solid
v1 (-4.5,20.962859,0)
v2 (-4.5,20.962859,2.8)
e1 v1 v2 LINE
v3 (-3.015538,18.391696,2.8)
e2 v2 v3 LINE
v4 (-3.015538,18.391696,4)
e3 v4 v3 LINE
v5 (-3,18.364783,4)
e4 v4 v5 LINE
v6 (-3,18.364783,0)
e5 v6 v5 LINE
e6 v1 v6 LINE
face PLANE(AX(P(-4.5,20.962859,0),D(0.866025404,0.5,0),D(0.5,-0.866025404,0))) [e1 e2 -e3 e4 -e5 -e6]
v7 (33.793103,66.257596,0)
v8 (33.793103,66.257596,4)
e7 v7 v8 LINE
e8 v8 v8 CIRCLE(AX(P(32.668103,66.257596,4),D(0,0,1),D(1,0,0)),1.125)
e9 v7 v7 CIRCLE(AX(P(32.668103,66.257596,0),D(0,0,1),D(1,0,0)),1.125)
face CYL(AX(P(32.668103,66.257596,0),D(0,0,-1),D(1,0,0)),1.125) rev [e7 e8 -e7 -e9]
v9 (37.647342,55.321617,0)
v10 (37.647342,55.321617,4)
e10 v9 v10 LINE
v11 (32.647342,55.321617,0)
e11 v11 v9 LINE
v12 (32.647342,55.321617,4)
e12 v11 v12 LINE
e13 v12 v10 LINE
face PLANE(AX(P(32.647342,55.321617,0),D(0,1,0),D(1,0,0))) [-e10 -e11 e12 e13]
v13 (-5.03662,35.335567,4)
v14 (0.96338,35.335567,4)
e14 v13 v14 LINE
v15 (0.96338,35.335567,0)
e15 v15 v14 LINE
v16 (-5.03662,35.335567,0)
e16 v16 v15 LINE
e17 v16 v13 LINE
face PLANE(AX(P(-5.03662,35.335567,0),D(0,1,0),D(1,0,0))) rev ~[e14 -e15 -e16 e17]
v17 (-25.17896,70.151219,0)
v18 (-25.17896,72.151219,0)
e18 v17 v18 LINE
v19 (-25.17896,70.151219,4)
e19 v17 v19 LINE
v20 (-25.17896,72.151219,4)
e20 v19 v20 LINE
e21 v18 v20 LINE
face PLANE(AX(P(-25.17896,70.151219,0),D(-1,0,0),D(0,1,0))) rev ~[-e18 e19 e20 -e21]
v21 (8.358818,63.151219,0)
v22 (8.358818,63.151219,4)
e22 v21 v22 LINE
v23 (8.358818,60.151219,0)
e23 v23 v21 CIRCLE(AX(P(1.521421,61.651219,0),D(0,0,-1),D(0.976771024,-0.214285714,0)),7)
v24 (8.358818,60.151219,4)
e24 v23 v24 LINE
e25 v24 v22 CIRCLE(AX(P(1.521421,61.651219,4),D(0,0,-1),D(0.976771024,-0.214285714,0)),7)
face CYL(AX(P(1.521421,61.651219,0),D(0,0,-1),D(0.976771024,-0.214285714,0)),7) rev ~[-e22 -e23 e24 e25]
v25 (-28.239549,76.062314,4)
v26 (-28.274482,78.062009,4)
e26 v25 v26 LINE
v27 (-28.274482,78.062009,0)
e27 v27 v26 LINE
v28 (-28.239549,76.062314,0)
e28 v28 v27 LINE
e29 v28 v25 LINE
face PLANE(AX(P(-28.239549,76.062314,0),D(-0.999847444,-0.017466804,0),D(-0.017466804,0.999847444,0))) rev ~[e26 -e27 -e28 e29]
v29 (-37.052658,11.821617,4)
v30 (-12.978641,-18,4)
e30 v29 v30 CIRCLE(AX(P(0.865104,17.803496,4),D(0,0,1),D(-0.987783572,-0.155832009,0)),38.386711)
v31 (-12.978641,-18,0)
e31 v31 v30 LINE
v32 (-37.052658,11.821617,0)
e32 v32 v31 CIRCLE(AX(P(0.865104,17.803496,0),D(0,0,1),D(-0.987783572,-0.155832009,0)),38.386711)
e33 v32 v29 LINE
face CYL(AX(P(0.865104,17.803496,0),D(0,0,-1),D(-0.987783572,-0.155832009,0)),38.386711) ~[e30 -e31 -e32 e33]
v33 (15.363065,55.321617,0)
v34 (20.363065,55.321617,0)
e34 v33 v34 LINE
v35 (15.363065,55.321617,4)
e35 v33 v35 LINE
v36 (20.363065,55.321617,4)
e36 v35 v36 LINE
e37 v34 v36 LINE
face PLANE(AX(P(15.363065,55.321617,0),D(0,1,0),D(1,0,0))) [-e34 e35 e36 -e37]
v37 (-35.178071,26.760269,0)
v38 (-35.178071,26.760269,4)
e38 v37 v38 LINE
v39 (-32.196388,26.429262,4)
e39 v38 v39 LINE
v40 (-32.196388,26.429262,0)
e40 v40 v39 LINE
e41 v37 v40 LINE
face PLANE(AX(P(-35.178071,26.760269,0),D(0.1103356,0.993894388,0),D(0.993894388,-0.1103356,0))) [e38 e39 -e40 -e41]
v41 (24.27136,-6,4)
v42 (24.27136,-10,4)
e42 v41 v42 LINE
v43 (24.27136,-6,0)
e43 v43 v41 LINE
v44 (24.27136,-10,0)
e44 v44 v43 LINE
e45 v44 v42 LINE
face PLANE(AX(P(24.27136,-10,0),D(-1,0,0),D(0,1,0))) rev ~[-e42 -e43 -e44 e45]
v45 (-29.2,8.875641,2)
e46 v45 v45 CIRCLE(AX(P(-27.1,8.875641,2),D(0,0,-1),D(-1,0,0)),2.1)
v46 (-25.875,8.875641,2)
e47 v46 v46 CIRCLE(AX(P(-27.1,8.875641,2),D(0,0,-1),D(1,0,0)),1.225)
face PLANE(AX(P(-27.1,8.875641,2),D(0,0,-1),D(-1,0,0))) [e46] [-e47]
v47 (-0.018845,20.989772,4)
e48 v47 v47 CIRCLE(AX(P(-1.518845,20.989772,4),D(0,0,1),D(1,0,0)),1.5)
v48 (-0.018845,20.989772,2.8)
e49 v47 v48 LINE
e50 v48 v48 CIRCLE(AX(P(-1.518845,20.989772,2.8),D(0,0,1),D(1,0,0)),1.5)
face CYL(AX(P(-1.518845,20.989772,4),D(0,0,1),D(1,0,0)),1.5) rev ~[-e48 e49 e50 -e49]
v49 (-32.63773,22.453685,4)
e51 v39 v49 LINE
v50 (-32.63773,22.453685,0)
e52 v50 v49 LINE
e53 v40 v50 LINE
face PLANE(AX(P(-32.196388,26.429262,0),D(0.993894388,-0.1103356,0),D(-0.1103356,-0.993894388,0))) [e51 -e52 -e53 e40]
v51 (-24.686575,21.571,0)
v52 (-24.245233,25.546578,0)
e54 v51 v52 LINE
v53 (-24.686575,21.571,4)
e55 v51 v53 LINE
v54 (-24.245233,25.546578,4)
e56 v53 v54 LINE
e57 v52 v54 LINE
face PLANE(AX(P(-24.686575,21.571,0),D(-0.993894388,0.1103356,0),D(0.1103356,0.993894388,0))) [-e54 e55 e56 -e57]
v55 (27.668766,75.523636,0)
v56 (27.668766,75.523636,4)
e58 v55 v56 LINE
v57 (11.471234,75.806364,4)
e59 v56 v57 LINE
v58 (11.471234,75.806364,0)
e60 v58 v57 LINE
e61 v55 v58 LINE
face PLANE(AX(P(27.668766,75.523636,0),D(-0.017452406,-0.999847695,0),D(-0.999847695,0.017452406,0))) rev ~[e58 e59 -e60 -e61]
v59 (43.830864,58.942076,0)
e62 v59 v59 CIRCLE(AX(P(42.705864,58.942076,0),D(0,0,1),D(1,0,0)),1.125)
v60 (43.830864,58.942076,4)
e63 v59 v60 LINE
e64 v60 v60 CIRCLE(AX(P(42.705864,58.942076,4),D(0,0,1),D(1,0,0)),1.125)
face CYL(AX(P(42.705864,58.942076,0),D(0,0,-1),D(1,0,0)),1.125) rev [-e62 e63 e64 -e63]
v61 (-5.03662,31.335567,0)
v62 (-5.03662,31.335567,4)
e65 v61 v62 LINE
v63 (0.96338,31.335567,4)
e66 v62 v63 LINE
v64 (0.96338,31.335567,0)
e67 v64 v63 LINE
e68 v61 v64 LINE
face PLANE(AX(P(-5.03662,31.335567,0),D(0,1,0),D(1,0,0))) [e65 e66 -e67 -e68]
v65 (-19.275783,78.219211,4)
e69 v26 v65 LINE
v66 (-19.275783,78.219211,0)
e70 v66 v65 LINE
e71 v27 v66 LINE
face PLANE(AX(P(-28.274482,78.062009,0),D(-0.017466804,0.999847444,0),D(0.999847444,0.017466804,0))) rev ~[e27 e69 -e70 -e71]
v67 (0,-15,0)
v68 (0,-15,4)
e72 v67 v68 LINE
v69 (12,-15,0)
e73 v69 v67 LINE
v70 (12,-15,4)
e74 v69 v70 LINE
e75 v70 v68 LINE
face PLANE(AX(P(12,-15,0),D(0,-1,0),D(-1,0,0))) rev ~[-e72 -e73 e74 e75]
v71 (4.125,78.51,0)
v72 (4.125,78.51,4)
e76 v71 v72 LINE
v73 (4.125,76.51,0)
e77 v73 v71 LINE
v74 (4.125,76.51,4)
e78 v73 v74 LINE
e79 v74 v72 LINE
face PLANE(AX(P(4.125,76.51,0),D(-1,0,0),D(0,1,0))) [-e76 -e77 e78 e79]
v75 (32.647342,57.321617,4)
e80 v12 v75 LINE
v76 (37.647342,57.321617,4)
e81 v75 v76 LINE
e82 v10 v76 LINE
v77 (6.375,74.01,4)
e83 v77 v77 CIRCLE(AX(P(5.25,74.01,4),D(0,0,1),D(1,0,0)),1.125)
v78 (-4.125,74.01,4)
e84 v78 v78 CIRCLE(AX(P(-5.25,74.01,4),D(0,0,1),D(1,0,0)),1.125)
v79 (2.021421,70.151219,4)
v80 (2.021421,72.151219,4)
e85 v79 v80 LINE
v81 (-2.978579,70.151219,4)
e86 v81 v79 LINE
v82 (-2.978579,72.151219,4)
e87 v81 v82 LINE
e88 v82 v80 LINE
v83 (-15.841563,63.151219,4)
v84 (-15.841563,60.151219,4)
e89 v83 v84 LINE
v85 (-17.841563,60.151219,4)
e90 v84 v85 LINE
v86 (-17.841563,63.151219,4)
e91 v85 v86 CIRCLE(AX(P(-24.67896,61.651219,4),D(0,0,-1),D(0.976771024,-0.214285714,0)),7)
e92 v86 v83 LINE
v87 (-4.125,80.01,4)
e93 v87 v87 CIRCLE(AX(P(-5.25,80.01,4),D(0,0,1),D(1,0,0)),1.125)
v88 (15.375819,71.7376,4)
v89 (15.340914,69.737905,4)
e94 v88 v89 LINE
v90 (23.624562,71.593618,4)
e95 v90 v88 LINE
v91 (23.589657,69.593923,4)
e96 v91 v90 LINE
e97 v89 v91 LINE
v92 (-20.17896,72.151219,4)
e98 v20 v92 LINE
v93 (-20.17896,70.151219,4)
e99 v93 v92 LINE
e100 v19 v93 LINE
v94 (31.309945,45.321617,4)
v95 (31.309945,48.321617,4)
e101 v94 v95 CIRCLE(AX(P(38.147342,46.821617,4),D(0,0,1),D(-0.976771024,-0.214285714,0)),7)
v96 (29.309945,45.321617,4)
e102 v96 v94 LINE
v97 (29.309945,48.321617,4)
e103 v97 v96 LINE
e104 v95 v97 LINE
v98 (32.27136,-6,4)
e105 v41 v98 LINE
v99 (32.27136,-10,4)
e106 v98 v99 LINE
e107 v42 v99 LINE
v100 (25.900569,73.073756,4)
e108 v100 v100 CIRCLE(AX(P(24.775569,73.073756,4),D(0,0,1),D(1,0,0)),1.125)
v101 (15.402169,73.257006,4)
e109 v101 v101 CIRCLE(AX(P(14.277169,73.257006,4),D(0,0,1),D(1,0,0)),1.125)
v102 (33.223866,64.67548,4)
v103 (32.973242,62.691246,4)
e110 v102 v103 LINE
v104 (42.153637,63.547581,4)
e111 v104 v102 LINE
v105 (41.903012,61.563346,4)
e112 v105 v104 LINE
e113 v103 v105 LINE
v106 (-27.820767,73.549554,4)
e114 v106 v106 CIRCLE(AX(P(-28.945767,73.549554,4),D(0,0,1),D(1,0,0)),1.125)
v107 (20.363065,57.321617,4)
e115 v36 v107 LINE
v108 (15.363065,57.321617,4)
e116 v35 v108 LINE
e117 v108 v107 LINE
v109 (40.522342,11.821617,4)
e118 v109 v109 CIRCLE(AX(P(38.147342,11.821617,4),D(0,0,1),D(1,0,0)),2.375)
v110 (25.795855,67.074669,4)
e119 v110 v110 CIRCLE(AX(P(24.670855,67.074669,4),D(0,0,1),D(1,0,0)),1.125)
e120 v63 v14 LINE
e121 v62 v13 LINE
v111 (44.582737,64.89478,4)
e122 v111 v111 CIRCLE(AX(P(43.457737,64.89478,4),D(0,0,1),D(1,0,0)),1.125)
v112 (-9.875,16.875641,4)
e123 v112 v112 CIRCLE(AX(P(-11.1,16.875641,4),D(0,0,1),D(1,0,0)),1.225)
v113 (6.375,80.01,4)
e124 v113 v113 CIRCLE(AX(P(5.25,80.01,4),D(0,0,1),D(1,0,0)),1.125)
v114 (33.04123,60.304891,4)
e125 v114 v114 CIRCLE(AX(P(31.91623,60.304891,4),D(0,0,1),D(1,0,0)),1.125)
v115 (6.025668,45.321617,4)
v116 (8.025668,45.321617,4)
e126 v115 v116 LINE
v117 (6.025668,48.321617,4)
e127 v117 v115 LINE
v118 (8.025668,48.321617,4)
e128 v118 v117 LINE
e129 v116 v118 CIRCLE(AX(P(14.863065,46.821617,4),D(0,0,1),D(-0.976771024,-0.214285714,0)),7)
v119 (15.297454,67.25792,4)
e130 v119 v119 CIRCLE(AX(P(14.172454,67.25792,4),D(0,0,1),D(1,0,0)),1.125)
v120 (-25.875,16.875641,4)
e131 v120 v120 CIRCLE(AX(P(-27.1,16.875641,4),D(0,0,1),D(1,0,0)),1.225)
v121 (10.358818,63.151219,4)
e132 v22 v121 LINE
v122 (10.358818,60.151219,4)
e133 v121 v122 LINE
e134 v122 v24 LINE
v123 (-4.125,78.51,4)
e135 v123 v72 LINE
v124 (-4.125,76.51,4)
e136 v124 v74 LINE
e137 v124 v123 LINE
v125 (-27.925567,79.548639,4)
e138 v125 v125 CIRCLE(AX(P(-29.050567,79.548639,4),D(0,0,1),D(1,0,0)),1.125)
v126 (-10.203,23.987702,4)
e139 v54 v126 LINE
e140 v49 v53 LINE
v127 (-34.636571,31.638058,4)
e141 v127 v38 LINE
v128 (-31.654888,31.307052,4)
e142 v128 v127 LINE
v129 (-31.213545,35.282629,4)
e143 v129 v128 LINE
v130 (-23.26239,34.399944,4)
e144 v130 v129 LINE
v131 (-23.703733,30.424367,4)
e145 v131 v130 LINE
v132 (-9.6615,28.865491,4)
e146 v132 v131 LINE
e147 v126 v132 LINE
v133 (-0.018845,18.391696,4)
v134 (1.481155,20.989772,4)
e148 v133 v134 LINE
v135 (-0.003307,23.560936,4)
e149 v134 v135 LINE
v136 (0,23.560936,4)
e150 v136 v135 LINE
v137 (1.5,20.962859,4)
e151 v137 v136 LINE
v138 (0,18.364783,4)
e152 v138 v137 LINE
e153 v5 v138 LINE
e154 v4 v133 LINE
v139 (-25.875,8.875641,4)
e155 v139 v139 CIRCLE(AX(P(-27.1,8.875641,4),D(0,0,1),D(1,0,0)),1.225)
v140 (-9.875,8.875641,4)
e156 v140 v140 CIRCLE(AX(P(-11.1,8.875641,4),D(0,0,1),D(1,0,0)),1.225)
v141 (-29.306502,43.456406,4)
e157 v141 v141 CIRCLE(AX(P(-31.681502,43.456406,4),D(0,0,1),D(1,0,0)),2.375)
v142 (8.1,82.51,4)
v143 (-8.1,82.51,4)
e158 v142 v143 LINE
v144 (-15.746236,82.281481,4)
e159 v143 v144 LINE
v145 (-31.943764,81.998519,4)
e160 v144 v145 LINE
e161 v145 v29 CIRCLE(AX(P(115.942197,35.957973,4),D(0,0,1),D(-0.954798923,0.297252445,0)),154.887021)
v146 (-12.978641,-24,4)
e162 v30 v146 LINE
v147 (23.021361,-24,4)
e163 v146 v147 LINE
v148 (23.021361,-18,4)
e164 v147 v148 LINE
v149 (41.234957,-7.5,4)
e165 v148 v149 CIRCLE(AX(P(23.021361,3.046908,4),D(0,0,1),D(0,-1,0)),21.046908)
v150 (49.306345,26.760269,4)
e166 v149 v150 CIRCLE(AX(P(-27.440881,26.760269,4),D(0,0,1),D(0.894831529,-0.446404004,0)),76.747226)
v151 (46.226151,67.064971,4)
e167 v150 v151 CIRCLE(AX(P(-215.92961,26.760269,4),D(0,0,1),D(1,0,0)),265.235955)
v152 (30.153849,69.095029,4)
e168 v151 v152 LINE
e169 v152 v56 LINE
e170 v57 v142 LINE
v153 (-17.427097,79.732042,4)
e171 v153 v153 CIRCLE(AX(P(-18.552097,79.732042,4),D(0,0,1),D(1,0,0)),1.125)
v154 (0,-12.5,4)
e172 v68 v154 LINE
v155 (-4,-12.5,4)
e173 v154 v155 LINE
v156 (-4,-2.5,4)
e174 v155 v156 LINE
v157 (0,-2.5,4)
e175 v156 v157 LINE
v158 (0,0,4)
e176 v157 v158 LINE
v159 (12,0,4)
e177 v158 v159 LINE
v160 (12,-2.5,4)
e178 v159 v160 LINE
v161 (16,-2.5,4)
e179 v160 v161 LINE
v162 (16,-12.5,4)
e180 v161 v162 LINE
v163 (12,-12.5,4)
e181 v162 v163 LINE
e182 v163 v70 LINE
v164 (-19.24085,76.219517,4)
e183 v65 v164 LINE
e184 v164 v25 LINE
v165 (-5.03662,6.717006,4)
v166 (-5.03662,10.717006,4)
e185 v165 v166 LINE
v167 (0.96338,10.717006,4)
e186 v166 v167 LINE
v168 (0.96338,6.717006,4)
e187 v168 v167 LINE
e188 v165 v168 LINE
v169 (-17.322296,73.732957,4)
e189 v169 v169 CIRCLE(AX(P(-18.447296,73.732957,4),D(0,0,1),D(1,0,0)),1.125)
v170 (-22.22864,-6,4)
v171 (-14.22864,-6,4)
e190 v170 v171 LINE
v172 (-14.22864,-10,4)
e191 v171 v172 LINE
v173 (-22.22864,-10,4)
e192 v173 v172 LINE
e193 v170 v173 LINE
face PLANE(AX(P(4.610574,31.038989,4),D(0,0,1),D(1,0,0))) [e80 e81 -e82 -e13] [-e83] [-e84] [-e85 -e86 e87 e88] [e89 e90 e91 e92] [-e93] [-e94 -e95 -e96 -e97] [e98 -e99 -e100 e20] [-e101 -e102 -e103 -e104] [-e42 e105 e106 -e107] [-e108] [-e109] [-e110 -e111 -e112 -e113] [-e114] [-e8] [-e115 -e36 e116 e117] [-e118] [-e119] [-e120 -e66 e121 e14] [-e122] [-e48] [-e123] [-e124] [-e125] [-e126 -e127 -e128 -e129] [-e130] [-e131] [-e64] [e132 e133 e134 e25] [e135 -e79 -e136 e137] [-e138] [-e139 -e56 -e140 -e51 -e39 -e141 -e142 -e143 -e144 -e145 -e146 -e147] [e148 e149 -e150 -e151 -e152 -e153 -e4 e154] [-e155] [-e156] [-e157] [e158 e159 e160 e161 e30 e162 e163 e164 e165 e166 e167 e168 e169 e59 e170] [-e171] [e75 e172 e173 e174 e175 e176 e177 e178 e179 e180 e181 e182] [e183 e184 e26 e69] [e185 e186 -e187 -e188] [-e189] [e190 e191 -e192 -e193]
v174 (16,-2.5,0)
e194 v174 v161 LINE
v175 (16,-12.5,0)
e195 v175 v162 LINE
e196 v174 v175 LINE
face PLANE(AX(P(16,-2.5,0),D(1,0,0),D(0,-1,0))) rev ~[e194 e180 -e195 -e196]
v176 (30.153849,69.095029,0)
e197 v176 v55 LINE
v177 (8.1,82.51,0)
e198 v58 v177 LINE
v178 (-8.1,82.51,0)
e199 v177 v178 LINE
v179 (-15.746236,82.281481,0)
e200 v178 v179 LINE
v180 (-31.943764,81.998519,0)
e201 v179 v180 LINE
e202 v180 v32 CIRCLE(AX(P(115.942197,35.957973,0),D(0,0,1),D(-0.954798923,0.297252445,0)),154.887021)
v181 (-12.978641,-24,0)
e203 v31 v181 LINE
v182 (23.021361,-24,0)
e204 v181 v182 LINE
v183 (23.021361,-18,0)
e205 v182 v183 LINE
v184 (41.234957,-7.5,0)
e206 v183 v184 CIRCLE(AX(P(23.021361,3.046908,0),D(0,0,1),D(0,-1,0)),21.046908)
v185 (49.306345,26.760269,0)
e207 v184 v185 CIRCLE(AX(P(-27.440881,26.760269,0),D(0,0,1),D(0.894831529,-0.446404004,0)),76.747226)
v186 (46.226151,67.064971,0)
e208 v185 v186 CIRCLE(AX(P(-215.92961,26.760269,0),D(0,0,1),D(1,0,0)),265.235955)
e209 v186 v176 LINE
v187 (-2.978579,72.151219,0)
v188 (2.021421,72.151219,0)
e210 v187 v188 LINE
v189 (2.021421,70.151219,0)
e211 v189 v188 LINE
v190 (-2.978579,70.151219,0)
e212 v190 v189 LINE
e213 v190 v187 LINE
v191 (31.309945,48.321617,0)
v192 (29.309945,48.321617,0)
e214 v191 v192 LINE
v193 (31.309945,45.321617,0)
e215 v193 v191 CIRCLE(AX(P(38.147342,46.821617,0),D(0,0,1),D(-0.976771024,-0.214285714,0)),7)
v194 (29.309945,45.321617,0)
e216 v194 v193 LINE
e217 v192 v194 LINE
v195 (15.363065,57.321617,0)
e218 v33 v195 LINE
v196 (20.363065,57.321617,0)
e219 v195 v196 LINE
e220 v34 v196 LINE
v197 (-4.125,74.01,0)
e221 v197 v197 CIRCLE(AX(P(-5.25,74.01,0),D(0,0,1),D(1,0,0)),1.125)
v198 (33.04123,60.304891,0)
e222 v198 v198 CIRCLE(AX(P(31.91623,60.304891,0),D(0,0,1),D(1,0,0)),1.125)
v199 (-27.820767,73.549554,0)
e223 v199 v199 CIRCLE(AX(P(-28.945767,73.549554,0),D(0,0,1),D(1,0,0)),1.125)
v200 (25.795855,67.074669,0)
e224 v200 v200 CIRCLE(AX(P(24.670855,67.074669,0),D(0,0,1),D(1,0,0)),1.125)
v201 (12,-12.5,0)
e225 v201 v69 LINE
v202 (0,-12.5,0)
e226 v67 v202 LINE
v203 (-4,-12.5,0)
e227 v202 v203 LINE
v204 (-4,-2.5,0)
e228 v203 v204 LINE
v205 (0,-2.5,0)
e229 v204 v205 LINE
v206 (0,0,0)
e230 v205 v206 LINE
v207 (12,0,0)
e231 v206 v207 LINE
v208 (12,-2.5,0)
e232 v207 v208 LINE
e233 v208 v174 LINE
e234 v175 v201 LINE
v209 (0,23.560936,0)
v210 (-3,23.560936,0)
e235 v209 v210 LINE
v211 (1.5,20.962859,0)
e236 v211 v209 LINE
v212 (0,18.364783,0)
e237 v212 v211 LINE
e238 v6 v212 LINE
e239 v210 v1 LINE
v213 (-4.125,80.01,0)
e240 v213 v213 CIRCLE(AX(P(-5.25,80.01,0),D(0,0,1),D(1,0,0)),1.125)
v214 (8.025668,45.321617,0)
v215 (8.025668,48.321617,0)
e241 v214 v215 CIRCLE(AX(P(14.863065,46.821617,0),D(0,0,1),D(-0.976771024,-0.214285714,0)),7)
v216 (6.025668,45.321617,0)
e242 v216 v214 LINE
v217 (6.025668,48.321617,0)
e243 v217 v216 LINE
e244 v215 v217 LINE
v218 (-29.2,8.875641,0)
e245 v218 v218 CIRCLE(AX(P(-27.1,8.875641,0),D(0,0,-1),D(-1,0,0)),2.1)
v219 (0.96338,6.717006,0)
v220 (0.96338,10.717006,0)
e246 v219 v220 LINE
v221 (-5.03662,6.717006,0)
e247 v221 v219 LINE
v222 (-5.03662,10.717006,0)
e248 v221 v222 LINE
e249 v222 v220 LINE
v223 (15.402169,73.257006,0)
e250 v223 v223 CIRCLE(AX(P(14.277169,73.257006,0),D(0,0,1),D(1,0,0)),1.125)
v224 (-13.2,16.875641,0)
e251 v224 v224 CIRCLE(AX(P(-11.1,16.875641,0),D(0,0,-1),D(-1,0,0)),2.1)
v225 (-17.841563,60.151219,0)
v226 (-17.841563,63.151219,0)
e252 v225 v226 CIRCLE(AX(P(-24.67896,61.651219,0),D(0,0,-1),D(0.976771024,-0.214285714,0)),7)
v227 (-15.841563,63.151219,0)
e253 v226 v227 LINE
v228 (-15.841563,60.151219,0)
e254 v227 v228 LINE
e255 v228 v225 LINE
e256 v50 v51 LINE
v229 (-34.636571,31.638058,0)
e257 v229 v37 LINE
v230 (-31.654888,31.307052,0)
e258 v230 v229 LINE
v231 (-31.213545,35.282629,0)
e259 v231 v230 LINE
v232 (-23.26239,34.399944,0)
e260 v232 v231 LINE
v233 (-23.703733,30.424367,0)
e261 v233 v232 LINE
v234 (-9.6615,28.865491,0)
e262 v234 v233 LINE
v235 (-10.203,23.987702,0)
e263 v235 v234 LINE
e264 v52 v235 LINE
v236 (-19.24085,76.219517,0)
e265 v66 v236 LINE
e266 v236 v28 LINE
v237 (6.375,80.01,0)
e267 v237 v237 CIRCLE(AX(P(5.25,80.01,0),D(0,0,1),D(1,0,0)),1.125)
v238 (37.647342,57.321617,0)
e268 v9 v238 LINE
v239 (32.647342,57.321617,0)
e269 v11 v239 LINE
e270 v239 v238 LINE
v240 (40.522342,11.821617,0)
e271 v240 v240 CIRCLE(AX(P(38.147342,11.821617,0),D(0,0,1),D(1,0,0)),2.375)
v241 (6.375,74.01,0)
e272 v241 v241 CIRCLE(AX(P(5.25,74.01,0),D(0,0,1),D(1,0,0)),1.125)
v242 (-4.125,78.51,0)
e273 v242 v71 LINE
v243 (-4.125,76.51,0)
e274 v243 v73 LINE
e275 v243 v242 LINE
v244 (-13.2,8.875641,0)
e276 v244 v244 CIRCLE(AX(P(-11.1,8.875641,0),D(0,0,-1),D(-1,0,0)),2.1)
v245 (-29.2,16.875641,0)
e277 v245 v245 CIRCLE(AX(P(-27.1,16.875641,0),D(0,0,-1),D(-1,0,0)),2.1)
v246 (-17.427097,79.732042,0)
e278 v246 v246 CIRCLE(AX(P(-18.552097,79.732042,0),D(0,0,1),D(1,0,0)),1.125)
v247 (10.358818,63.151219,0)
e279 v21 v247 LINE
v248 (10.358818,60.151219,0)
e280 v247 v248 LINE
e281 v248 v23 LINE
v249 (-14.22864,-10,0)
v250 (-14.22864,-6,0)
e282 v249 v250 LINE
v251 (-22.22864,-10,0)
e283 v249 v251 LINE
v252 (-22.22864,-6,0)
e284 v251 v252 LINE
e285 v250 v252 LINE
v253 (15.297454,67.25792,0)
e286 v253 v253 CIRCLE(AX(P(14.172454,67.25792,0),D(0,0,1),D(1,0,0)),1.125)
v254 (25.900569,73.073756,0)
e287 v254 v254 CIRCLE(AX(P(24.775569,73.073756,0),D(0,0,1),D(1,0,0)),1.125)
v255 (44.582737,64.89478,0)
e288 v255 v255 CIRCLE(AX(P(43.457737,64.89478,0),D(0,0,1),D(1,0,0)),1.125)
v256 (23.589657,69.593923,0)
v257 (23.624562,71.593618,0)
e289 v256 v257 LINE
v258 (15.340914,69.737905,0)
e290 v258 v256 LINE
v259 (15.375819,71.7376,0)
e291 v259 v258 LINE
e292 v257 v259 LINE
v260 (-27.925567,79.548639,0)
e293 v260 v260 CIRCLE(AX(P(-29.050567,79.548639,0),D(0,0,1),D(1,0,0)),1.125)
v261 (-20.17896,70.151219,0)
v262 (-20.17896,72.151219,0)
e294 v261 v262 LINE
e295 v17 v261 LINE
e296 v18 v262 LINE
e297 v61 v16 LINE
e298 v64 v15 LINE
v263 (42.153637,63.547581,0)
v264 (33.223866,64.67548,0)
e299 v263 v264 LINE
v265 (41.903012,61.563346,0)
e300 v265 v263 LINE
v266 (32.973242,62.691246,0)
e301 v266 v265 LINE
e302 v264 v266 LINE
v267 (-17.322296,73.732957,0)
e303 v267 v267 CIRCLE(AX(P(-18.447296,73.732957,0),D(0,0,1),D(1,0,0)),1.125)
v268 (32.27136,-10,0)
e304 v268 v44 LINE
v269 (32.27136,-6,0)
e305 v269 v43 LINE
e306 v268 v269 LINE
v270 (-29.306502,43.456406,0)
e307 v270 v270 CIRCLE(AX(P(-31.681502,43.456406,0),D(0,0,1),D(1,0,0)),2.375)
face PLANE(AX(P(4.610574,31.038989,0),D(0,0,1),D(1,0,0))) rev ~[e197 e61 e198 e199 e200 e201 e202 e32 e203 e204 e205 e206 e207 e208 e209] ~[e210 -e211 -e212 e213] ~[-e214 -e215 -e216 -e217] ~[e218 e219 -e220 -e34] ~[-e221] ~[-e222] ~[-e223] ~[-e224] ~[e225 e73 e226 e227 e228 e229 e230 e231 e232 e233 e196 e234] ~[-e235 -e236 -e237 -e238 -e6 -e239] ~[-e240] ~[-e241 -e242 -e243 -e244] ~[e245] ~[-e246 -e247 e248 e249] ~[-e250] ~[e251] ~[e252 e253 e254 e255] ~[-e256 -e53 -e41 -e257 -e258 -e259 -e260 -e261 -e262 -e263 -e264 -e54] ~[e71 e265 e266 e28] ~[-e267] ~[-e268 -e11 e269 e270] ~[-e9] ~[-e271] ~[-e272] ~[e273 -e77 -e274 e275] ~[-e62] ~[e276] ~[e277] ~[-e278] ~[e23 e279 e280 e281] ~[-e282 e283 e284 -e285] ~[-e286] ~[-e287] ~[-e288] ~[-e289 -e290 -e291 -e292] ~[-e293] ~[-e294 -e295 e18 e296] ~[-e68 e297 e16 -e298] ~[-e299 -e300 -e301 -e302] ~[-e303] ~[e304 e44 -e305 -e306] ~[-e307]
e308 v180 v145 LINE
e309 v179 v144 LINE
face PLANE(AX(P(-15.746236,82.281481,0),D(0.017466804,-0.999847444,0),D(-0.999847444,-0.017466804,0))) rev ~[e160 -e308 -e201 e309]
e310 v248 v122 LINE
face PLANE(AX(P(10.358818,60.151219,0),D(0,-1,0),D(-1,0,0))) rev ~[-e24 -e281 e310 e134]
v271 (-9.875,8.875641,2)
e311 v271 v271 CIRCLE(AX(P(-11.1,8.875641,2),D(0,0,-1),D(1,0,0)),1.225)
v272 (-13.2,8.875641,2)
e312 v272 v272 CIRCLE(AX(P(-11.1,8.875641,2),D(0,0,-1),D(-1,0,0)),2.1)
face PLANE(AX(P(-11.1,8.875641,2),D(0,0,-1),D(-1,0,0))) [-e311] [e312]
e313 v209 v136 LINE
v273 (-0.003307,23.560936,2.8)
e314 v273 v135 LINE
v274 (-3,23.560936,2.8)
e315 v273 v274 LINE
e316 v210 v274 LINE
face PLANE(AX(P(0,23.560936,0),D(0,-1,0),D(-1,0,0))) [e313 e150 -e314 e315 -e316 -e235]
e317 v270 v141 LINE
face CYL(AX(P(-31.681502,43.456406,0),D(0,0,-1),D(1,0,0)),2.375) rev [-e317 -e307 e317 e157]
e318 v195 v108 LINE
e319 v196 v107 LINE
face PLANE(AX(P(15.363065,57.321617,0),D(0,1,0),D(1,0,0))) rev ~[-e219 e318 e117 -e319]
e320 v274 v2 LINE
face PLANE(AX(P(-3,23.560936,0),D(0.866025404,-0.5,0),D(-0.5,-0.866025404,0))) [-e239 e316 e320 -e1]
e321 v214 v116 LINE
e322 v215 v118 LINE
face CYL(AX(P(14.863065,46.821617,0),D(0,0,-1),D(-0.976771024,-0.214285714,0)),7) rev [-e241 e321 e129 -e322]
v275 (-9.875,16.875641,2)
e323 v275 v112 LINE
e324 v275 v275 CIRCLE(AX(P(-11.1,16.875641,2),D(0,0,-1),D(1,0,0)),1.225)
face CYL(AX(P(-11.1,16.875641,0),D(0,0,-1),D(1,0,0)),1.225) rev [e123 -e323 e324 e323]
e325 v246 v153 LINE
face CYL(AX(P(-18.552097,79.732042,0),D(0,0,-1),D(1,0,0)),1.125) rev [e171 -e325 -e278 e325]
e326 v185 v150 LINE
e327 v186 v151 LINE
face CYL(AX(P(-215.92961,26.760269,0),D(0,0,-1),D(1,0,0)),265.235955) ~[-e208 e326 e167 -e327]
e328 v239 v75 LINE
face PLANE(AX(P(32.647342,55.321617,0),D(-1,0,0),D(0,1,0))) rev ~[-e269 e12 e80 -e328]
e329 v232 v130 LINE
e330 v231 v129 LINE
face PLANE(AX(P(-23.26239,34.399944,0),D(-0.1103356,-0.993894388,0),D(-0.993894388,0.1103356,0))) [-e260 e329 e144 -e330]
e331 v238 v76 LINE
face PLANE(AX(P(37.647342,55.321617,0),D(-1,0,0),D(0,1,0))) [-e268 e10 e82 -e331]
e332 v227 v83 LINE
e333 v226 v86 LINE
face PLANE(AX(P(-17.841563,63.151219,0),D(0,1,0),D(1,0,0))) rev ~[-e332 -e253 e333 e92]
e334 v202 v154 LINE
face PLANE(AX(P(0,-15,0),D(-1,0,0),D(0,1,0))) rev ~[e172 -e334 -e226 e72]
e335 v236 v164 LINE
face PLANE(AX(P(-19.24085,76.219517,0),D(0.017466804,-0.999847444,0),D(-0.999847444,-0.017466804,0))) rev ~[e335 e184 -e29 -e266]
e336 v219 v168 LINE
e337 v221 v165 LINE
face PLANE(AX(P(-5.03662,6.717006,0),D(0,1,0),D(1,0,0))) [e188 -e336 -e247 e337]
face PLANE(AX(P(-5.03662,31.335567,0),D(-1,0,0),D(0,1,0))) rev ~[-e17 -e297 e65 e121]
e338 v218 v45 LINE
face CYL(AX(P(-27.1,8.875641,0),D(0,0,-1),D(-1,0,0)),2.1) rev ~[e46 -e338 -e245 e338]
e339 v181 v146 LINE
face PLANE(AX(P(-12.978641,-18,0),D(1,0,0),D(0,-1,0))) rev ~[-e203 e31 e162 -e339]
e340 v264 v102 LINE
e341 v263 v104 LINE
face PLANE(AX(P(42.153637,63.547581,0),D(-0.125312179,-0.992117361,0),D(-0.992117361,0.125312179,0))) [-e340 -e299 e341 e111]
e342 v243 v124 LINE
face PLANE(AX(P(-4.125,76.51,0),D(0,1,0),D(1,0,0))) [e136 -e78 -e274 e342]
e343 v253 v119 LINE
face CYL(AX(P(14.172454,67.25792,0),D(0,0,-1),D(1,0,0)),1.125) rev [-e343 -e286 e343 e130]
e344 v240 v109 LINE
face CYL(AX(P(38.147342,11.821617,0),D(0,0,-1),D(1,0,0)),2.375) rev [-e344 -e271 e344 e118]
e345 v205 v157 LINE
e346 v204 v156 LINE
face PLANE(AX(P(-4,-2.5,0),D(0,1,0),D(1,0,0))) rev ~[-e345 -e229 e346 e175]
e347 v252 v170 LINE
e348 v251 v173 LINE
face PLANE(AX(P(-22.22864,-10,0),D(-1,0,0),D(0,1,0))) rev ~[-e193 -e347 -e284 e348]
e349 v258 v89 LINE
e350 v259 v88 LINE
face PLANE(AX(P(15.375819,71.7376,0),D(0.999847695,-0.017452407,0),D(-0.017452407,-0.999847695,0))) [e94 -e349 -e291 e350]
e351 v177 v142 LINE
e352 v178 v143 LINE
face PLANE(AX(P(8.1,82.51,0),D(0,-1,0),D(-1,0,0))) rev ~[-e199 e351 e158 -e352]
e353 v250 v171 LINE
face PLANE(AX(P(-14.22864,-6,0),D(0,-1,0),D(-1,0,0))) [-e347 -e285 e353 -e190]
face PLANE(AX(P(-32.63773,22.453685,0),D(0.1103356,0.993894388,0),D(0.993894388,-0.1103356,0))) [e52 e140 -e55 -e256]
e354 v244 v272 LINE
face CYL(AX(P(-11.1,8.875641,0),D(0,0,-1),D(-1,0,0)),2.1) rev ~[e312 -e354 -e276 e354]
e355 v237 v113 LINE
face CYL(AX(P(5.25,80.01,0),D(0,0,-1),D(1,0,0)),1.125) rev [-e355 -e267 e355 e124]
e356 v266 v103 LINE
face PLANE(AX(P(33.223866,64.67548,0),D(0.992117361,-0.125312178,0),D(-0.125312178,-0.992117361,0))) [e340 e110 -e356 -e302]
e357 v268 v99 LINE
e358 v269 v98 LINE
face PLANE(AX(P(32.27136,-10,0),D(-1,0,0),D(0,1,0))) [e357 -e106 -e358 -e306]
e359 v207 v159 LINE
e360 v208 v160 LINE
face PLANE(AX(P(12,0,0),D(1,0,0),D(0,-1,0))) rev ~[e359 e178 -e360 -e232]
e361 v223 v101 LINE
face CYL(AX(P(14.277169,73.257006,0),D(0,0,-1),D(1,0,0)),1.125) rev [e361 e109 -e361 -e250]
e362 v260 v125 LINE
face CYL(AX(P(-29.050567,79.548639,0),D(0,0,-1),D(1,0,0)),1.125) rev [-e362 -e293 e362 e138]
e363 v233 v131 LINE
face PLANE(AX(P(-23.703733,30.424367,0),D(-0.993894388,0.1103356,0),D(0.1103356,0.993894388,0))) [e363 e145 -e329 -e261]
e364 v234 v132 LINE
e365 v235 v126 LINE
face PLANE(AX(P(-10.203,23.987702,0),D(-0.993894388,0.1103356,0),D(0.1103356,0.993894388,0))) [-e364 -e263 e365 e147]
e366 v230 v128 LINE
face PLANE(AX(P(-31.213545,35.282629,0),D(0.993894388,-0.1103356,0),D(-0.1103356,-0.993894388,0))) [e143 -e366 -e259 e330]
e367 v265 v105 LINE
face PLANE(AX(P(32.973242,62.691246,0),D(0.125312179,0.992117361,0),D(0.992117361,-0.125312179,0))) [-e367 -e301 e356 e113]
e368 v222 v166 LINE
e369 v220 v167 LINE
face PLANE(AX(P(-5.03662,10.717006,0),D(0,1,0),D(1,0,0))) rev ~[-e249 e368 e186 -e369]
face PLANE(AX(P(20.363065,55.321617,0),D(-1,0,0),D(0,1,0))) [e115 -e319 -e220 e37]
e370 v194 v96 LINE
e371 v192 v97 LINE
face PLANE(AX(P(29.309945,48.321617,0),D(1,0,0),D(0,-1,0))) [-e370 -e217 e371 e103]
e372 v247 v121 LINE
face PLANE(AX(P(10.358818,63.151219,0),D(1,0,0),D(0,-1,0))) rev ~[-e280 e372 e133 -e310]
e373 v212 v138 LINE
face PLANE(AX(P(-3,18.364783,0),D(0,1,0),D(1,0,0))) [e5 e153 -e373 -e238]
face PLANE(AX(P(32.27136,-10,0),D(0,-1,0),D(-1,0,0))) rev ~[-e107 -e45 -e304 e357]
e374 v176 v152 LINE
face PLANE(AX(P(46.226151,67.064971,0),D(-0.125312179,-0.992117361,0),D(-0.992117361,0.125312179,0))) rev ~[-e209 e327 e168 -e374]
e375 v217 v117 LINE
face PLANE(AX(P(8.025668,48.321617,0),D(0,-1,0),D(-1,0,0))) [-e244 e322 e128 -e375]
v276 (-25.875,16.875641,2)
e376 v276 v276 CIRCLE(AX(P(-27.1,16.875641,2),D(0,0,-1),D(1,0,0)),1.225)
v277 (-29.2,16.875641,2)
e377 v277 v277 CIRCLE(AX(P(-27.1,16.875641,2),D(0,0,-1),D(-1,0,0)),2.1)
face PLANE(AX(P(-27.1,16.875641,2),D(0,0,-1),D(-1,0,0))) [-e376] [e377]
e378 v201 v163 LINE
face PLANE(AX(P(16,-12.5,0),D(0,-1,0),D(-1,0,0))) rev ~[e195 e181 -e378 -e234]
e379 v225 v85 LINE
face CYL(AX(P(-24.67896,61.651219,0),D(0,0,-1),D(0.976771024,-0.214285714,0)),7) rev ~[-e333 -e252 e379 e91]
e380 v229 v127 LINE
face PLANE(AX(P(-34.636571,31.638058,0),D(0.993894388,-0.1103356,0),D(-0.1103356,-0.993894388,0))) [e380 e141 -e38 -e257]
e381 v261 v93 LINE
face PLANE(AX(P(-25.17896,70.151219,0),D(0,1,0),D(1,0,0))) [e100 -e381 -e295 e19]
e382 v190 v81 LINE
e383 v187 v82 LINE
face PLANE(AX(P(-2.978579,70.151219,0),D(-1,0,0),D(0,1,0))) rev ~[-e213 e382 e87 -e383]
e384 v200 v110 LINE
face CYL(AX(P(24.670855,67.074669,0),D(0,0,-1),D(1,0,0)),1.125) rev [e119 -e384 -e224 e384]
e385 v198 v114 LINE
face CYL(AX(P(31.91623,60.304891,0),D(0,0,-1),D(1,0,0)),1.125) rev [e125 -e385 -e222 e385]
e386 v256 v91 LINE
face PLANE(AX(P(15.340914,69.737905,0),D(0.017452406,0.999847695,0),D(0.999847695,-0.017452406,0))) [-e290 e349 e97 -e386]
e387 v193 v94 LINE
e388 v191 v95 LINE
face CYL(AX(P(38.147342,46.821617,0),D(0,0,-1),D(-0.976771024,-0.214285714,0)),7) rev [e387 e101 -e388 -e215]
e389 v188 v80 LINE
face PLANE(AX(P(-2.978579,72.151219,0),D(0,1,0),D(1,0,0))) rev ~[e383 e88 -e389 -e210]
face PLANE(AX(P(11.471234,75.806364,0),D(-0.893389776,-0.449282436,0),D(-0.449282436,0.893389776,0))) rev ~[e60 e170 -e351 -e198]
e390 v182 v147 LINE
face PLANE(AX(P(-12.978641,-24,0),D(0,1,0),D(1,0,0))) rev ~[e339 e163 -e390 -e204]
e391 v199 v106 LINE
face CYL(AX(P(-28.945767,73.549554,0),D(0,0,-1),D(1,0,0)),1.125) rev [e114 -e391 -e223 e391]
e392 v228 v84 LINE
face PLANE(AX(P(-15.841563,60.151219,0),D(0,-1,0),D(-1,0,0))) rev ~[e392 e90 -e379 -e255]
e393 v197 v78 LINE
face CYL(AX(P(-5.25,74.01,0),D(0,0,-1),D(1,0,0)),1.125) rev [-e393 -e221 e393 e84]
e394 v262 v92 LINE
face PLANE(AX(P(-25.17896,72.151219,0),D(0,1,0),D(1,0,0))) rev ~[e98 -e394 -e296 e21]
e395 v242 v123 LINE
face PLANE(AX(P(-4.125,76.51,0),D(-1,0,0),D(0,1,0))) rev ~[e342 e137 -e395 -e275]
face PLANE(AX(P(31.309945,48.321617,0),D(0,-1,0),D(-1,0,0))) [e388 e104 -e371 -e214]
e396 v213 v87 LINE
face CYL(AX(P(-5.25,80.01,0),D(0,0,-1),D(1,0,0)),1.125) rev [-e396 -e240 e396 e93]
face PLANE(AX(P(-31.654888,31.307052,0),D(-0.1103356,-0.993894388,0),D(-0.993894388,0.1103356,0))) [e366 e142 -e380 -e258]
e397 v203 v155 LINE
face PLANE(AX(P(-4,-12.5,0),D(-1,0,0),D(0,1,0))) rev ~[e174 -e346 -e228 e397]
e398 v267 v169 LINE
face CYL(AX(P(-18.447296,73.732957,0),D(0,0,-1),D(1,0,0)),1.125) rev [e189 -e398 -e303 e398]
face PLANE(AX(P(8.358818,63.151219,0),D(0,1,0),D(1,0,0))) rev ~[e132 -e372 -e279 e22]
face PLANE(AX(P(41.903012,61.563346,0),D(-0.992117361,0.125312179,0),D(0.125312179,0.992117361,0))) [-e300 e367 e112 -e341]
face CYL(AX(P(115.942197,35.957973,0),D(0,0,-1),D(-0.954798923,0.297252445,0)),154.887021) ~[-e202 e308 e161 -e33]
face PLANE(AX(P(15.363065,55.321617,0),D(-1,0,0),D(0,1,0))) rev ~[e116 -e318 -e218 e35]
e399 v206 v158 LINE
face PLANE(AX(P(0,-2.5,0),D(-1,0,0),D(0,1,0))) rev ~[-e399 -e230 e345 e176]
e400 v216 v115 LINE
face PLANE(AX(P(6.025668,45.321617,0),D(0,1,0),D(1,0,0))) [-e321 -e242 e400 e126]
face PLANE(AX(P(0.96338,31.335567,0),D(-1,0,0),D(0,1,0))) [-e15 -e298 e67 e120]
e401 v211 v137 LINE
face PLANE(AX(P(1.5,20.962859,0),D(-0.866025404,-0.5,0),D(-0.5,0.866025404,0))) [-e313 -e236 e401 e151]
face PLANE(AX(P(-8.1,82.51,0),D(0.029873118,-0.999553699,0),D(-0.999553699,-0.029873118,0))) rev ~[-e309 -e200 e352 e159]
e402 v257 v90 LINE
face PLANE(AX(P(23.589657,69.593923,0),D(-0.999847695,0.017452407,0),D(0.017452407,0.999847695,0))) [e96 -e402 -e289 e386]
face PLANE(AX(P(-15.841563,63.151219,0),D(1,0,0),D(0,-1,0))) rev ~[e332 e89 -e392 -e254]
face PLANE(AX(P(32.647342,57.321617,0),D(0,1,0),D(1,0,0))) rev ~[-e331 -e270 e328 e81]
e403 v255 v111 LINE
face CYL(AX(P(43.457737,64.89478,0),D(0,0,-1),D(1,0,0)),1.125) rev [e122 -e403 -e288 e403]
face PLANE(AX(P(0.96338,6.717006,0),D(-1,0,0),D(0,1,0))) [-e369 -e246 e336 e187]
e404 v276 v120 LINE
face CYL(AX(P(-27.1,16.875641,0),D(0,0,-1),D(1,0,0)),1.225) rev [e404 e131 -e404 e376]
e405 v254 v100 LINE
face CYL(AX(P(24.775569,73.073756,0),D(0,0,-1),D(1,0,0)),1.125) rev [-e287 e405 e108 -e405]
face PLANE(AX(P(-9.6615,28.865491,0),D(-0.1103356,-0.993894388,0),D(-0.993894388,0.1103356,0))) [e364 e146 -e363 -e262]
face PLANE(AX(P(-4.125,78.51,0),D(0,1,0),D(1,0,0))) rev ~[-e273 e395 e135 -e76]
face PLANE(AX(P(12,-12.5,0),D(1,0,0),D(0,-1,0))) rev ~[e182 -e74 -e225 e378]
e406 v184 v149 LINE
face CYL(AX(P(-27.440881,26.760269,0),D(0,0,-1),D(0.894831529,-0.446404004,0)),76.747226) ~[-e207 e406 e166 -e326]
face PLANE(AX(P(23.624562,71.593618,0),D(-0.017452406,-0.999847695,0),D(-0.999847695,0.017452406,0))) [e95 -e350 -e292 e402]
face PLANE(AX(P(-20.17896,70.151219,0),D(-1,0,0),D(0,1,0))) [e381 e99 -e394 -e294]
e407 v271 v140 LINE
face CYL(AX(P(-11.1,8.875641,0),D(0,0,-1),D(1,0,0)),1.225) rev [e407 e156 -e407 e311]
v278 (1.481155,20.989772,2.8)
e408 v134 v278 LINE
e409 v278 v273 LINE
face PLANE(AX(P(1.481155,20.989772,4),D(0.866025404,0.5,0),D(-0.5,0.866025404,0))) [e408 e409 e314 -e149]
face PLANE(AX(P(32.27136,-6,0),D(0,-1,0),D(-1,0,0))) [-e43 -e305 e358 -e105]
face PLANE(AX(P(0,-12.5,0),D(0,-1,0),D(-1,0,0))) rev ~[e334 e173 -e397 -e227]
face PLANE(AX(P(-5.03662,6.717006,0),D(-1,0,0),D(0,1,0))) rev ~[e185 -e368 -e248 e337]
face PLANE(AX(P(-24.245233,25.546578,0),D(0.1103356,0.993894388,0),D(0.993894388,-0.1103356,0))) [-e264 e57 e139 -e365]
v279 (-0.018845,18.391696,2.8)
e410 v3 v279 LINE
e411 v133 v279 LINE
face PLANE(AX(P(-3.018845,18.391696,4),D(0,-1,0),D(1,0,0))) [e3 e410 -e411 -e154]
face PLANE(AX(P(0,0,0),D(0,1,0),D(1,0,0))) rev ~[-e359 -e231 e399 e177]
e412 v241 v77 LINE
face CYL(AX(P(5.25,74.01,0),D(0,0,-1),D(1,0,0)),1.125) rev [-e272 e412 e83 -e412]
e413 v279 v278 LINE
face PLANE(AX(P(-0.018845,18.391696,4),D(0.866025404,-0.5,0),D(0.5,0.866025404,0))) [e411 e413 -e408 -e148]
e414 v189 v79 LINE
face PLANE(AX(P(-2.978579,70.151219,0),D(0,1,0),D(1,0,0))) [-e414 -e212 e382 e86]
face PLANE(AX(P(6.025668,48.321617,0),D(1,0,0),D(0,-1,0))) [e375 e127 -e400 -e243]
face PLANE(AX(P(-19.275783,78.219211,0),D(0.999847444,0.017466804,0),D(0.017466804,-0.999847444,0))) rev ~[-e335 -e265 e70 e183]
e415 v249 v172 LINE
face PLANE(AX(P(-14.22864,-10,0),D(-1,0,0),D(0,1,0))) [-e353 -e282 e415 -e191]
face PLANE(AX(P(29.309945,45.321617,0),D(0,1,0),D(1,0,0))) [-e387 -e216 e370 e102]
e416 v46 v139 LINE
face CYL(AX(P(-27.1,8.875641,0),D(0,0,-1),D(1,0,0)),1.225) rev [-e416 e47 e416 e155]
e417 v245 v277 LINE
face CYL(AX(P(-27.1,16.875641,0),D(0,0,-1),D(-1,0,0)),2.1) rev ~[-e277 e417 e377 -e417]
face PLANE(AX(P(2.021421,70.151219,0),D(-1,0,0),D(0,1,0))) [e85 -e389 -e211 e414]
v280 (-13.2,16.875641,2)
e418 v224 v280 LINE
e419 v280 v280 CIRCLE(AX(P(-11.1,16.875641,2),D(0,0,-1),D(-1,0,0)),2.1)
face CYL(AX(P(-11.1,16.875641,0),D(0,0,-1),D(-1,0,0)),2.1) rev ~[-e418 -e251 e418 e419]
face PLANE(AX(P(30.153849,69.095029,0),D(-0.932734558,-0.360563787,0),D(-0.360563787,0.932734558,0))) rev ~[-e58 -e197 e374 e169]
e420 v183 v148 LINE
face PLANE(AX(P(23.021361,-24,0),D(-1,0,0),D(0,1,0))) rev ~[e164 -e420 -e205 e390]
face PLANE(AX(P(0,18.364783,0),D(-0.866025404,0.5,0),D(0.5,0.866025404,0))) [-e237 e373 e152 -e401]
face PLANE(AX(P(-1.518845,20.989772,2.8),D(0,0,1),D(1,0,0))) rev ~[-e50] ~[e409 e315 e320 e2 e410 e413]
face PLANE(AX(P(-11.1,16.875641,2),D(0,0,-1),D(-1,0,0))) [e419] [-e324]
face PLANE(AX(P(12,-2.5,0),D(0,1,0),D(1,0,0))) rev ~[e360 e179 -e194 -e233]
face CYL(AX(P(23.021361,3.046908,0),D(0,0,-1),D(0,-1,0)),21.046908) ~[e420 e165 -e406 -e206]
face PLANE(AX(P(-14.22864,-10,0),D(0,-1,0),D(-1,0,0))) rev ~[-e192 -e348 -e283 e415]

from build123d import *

# Parameters (mm, degrees)
SKETCH1_R           = 2.375
SKETCH1_R_2         = 1.225
SKETCH1_R_3         = 1.125
SKETCH1_W           = 8.25
SKETCH1_H           = 2
SKETCH1_W_2         = 5
SKETCH1_W_3         = 6.000000352
SKETCH1_H_2         = 4
BOSS_EXTRUDE1_DEPTH = 4
SKETCH3_W           = 8
SKETCH3_H           = 4
CUT_EXTRUDE2_DEPTH  = 5
SKETCH4_R           = 2.1
CUT_EXTRUDE3_DEPTH  = 2
SKETCH5_R           = 1.5
BOSS_EXTRUDE2_DEPTH = 1.2


with BuildPart() as part:
    # Sketch1 → Boss-Extrude1 (new body)
    with BuildSketch(Plane.XY):
        with BuildLine():
            Line((-12.978641063, -17.999999648), (-12.978641063, -24))
            Line((-12.978641063, -24), (23.021361236, -24))
            Line((23.021361236, -24), (23.021361236, -17.999999648))
            ThreePointArc((23.021361236, -17.999999648), (33.533081461, -15.187018076), (41.234956591, -7.5))
            ThreePointArc((41.234956591, -7.5), (47.261249953, 9.161168651), (49.306345049, 26.760269155))
            ThreePointArc((49.306345049, 26.760269155), (48.53517536, 46.971383776), (46.226150624, 67.064971353))
            Line((46.226150624, 67.064971353), (30.153849376, 69.095028647))
            Line((30.153849376, 69.095028647), (27.668766331, 75.523635508))
            Line((27.668766331, 75.523635508), (11.471233669, 75.806364492))
            Line((11.471233669, 75.806364492), (8.1, 82.51))
            Line((8.1, 82.51), (-8.1, 82.51))
            Line((-8.1, 82.51), (-15.746235706, 82.281481113))
            Line((-15.746235706, 82.281481113), (-31.943764294, 81.998518887))
            ThreePointArc((-31.943764294, 81.998518887), (-38.536008, 47.204020641), (-37.052658257, 11.821617405))
            ThreePointArc((-37.052658257, 11.821617405), (-29.003702847, -6.308616172), (-12.978641063, -17.999999648))
        make_face()
        with Locations((38.147341743, 11.821617405)):
            Circle(SKETCH1_R, mode=Mode.SUBTRACT)
        with Locations((-27.1, 8.875641236)):
            Circle(SKETCH1_R_2, mode=Mode.SUBTRACT)
        with Locations((-27.1, 16.875641236)):
            Circle(SKETCH1_R_2, mode=Mode.SUBTRACT)
        with Locations((-11.1, 8.875641236)):
            Circle(SKETCH1_R_2, mode=Mode.SUBTRACT)
        with Locations((-11.1, 16.875641236)):
            Circle(SKETCH1_R_2, mode=Mode.SUBTRACT)
        with Locations((-5.25, 80.01)):
            Circle(SKETCH1_R_3, mode=Mode.SUBTRACT)
        with Locations((32.668103408, 66.257595536)):
            Circle(SKETCH1_R_3, mode=Mode.SUBTRACT)
        with Locations((-31.681501662, 43.456405989)):
            Circle(SKETCH1_R, mode=Mode.SUBTRACT)
        with Locations((5.25, 80.01)):
            Circle(SKETCH1_R_3, mode=Mode.SUBTRACT)
        with Locations((5.25, 74.01)):
            Circle(SKETCH1_R_3, mode=Mode.SUBTRACT)
        with Locations((-5.25, 74.01)):
            Circle(SKETCH1_R_3, mode=Mode.SUBTRACT)
        with Locations((-29.050567347, 79.548639007)):
            Circle(SKETCH1_R_3, mode=Mode.SUBTRACT)
        with Locations((-18.552097199, 79.732041708)):
            Circle(SKETCH1_R_3, mode=Mode.SUBTRACT)
        with Locations((-28.945766522, 73.549554345)):
            Circle(SKETCH1_R_3, mode=Mode.SUBTRACT)
        with Locations((-18.447296374, 73.732957046)):
            Circle(SKETCH1_R_3, mode=Mode.SUBTRACT)
        with Locations((24.670854945, 67.074669457)):
            Circle(SKETCH1_R_3, mode=Mode.SUBTRACT)
        with Locations((14.172454146, 67.257919725)):
            Circle(SKETCH1_R_3, mode=Mode.SUBTRACT)
        with Locations((24.775569383, 73.073755628)):
            Circle(SKETCH1_R_3, mode=Mode.SUBTRACT)
        with Locations((14.277168584, 73.257005896)):
            Circle(SKETCH1_R_3, mode=Mode.SUBTRACT)
        with Locations((31.916230336, 60.30489137)):
            Circle(SKETCH1_R_3, mode=Mode.SUBTRACT)
        with Locations((43.457736871, 64.89478048)):
            Circle(SKETCH1_R_3, mode=Mode.SUBTRACT)
        with Locations((42.705863799, 58.942076315)):
            Circle(SKETCH1_R_3, mode=Mode.SUBTRACT)
        with Locations((0, 77.51)):
            Rectangle(SKETCH1_W, SKETCH1_H, mode=Mode.SUBTRACT)
        Polygon((-10.203, 23.9877015), (-9.6615, 28.865490815), (-23.703732608, 30.424366869), (-23.262390208, 34.399944423), (-31.213545315, 35.282629224), (-31.654887716, 31.30705167), (-34.636570881, 31.63805847), (-35.178070881, 26.760269155), (-32.196387716, 26.429262355), (-32.637730116, 22.453684801), (-24.686575009, 21.571), (-24.245232608, 25.546577554), align=None, mode=Mode.SUBTRACT)
        with BuildLine():
            Line((10.358817838, 63.151218734), (10.358817838, 60.151218734))
            Line((10.358817838, 60.151218734), (8.358817838, 60.151218734))
            ThreePointArc((8.358817838, 60.151218734), (-5.478579327, 61.651218734), (8.358817838, 63.151218734))
            Line((8.358817838, 63.151218734), (10.358817838, 63.151218734))
        make_face(mode=Mode.SUBTRACT)
        with Locations((35.147341743, 56.321617405)):
            Rectangle(SKETCH1_W_2, SKETCH1_H, mode=Mode.SUBTRACT)
        with BuildLine():
            Line((-17.84156291, 63.151218734), (-15.84156291, 63.151218734))
            Line((-15.84156291, 63.151218734), (-15.84156291, 60.151218734))
            Line((-15.84156291, 60.151218734), (-17.84156291, 60.151218734))
            ThreePointArc((-17.84156291, 60.151218734), (-31.678960076, 61.651218734), (-17.84156291, 63.151218734))
        make_face(mode=Mode.SUBTRACT)
        Polygon((-28.274482275, 78.062008978), (-19.275783292, 78.219211472), (-19.240849684, 76.219516585), (-28.239548667, 76.06231409), align=None, mode=Mode.SUBTRACT)
        with Locations((17.86306514, 56.321617405)):
            Rectangle(SKETCH1_W_2, SKETCH1_H, mode=Mode.SUBTRACT)
        with Locations((-0.478579327, 71.151218734)):
            Rectangle(SKETCH1_W_2, SKETCH1_H, mode=Mode.SUBTRACT)
        Polygon((15.375818632, 71.737600396), (15.340913819, 69.737905006), (23.589657304, 69.593922653), (23.624562117, 71.593618043), align=None, mode=Mode.SUBTRACT)
        with BuildLine():
            Line((8.025667975, 48.321617405), (6.025667975, 48.321617405))
            Line((6.025667975, 48.321617405), (6.025667975, 45.321617405))
            Line((6.025667975, 45.321617405), (8.025667975, 45.321617405))
            ThreePointArc((8.025667975, 45.321617405), (21.86306514, 46.821617405), (8.025667975, 48.321617405))
        make_face(mode=Mode.SUBTRACT)
        Polygon((42.153636572, 63.54758064), (33.223865999, 64.675480473), (32.973241642, 62.691245751), (41.903012214, 61.563345918), align=None, mode=Mode.SUBTRACT)
        with BuildLine():
            Line((29.309944577, 45.321617405), (31.309944577, 45.321617405))
            ThreePointArc((31.309944577, 45.321617405), (45.147341743, 46.821617405), (31.309944577, 48.321617405))
            Line((31.309944577, 48.321617405), (29.309944577, 48.321617405))
            Line((29.309944577, 48.321617405), (29.309944577, 45.321617405))
        make_face(mode=Mode.SUBTRACT)
        with Locations((-22.678960076, 71.151218734)):
            Rectangle(SKETCH1_W_2, SKETCH1_H, mode=Mode.SUBTRACT)
        Polygon((-4, -2.5), (0, -2.5), (0, 0), (12, 0), (12, -2.5), (16, -2.5), (16, -12.5), (12, -12.5), (12, -15), (0, -15), (0, -12.5), (-4, -12.5), align=None, mode=Mode.SUBTRACT)
        Polygon((0, 23.56093555), (-3, 23.56093555), (-4.5, 20.962859339), (-3, 18.364783128), (0, 18.364783128), (1.5, 20.962859339), align=None, mode=Mode.SUBTRACT)
        with Locations((-2.036620161, 8.717005814)):
            Rectangle(SKETCH1_W_3, SKETCH1_H_2, mode=Mode.SUBTRACT)
        with Locations((-2.036620161, 33.335566927)):
            Rectangle(SKETCH1_W_3, SKETCH1_H_2, mode=Mode.SUBTRACT)
    extrude(amount=BOSS_EXTRUDE1_DEPTH)

    # Sketch3 → Cut-Extrude2 (cut, through all)
    with BuildSketch(Plane(origin=(0, 0, 0), x_dir=(-1, 0, 0), z_dir=(0, 0, -1))):
        with Locations((-28.271360086, -8)):
            Rectangle(SKETCH3_W, SKETCH3_H)
        with Locations((18.228639914, -8)):
            Rectangle(SKETCH3_W, SKETCH3_H)
    extrude(amount=-CUT_EXTRUDE2_DEPTH, mode=Mode.SUBTRACT)

    # Sketch4 → Cut-Extrude3 (cut)
    with BuildSketch(Plane(origin=(0, 0, 0), x_dir=(-1, 0, 0), z_dir=(0, 0, -1))):
        with Locations((27.1, 16.875641236)):
            Circle(SKETCH4_R)
        with Locations((27.1, 8.875641236)):
            Circle(SKETCH4_R)
        with Locations((11.1, 8.875641236)):
            Circle(SKETCH4_R)
        with Locations((11.1, 16.875641236)):
            Circle(SKETCH4_R)
    extrude(amount=-CUT_EXTRUDE3_DEPTH, mode=Mode.SUBTRACT)

    # Sketch5 → Boss-Extrude2 (add)
    with BuildSketch(Plane.XY.offset(4)):
        Polygon((-3.018844903, 18.391695962), (-0.018844903, 18.391695962), (1.481155097, 20.989772174), (-0.018844903, 23.587848385), (-3.018844903, 23.587848385), (-4.518844903, 20.989772174), align=None)
        with Locations((-1.518844903, 20.989772174)):
            Circle(SKETCH5_R, mode=Mode.SUBTRACT)
    extrude(amount=-BOSS_EXTRUDE2_DEPTH)


solid = part.part
